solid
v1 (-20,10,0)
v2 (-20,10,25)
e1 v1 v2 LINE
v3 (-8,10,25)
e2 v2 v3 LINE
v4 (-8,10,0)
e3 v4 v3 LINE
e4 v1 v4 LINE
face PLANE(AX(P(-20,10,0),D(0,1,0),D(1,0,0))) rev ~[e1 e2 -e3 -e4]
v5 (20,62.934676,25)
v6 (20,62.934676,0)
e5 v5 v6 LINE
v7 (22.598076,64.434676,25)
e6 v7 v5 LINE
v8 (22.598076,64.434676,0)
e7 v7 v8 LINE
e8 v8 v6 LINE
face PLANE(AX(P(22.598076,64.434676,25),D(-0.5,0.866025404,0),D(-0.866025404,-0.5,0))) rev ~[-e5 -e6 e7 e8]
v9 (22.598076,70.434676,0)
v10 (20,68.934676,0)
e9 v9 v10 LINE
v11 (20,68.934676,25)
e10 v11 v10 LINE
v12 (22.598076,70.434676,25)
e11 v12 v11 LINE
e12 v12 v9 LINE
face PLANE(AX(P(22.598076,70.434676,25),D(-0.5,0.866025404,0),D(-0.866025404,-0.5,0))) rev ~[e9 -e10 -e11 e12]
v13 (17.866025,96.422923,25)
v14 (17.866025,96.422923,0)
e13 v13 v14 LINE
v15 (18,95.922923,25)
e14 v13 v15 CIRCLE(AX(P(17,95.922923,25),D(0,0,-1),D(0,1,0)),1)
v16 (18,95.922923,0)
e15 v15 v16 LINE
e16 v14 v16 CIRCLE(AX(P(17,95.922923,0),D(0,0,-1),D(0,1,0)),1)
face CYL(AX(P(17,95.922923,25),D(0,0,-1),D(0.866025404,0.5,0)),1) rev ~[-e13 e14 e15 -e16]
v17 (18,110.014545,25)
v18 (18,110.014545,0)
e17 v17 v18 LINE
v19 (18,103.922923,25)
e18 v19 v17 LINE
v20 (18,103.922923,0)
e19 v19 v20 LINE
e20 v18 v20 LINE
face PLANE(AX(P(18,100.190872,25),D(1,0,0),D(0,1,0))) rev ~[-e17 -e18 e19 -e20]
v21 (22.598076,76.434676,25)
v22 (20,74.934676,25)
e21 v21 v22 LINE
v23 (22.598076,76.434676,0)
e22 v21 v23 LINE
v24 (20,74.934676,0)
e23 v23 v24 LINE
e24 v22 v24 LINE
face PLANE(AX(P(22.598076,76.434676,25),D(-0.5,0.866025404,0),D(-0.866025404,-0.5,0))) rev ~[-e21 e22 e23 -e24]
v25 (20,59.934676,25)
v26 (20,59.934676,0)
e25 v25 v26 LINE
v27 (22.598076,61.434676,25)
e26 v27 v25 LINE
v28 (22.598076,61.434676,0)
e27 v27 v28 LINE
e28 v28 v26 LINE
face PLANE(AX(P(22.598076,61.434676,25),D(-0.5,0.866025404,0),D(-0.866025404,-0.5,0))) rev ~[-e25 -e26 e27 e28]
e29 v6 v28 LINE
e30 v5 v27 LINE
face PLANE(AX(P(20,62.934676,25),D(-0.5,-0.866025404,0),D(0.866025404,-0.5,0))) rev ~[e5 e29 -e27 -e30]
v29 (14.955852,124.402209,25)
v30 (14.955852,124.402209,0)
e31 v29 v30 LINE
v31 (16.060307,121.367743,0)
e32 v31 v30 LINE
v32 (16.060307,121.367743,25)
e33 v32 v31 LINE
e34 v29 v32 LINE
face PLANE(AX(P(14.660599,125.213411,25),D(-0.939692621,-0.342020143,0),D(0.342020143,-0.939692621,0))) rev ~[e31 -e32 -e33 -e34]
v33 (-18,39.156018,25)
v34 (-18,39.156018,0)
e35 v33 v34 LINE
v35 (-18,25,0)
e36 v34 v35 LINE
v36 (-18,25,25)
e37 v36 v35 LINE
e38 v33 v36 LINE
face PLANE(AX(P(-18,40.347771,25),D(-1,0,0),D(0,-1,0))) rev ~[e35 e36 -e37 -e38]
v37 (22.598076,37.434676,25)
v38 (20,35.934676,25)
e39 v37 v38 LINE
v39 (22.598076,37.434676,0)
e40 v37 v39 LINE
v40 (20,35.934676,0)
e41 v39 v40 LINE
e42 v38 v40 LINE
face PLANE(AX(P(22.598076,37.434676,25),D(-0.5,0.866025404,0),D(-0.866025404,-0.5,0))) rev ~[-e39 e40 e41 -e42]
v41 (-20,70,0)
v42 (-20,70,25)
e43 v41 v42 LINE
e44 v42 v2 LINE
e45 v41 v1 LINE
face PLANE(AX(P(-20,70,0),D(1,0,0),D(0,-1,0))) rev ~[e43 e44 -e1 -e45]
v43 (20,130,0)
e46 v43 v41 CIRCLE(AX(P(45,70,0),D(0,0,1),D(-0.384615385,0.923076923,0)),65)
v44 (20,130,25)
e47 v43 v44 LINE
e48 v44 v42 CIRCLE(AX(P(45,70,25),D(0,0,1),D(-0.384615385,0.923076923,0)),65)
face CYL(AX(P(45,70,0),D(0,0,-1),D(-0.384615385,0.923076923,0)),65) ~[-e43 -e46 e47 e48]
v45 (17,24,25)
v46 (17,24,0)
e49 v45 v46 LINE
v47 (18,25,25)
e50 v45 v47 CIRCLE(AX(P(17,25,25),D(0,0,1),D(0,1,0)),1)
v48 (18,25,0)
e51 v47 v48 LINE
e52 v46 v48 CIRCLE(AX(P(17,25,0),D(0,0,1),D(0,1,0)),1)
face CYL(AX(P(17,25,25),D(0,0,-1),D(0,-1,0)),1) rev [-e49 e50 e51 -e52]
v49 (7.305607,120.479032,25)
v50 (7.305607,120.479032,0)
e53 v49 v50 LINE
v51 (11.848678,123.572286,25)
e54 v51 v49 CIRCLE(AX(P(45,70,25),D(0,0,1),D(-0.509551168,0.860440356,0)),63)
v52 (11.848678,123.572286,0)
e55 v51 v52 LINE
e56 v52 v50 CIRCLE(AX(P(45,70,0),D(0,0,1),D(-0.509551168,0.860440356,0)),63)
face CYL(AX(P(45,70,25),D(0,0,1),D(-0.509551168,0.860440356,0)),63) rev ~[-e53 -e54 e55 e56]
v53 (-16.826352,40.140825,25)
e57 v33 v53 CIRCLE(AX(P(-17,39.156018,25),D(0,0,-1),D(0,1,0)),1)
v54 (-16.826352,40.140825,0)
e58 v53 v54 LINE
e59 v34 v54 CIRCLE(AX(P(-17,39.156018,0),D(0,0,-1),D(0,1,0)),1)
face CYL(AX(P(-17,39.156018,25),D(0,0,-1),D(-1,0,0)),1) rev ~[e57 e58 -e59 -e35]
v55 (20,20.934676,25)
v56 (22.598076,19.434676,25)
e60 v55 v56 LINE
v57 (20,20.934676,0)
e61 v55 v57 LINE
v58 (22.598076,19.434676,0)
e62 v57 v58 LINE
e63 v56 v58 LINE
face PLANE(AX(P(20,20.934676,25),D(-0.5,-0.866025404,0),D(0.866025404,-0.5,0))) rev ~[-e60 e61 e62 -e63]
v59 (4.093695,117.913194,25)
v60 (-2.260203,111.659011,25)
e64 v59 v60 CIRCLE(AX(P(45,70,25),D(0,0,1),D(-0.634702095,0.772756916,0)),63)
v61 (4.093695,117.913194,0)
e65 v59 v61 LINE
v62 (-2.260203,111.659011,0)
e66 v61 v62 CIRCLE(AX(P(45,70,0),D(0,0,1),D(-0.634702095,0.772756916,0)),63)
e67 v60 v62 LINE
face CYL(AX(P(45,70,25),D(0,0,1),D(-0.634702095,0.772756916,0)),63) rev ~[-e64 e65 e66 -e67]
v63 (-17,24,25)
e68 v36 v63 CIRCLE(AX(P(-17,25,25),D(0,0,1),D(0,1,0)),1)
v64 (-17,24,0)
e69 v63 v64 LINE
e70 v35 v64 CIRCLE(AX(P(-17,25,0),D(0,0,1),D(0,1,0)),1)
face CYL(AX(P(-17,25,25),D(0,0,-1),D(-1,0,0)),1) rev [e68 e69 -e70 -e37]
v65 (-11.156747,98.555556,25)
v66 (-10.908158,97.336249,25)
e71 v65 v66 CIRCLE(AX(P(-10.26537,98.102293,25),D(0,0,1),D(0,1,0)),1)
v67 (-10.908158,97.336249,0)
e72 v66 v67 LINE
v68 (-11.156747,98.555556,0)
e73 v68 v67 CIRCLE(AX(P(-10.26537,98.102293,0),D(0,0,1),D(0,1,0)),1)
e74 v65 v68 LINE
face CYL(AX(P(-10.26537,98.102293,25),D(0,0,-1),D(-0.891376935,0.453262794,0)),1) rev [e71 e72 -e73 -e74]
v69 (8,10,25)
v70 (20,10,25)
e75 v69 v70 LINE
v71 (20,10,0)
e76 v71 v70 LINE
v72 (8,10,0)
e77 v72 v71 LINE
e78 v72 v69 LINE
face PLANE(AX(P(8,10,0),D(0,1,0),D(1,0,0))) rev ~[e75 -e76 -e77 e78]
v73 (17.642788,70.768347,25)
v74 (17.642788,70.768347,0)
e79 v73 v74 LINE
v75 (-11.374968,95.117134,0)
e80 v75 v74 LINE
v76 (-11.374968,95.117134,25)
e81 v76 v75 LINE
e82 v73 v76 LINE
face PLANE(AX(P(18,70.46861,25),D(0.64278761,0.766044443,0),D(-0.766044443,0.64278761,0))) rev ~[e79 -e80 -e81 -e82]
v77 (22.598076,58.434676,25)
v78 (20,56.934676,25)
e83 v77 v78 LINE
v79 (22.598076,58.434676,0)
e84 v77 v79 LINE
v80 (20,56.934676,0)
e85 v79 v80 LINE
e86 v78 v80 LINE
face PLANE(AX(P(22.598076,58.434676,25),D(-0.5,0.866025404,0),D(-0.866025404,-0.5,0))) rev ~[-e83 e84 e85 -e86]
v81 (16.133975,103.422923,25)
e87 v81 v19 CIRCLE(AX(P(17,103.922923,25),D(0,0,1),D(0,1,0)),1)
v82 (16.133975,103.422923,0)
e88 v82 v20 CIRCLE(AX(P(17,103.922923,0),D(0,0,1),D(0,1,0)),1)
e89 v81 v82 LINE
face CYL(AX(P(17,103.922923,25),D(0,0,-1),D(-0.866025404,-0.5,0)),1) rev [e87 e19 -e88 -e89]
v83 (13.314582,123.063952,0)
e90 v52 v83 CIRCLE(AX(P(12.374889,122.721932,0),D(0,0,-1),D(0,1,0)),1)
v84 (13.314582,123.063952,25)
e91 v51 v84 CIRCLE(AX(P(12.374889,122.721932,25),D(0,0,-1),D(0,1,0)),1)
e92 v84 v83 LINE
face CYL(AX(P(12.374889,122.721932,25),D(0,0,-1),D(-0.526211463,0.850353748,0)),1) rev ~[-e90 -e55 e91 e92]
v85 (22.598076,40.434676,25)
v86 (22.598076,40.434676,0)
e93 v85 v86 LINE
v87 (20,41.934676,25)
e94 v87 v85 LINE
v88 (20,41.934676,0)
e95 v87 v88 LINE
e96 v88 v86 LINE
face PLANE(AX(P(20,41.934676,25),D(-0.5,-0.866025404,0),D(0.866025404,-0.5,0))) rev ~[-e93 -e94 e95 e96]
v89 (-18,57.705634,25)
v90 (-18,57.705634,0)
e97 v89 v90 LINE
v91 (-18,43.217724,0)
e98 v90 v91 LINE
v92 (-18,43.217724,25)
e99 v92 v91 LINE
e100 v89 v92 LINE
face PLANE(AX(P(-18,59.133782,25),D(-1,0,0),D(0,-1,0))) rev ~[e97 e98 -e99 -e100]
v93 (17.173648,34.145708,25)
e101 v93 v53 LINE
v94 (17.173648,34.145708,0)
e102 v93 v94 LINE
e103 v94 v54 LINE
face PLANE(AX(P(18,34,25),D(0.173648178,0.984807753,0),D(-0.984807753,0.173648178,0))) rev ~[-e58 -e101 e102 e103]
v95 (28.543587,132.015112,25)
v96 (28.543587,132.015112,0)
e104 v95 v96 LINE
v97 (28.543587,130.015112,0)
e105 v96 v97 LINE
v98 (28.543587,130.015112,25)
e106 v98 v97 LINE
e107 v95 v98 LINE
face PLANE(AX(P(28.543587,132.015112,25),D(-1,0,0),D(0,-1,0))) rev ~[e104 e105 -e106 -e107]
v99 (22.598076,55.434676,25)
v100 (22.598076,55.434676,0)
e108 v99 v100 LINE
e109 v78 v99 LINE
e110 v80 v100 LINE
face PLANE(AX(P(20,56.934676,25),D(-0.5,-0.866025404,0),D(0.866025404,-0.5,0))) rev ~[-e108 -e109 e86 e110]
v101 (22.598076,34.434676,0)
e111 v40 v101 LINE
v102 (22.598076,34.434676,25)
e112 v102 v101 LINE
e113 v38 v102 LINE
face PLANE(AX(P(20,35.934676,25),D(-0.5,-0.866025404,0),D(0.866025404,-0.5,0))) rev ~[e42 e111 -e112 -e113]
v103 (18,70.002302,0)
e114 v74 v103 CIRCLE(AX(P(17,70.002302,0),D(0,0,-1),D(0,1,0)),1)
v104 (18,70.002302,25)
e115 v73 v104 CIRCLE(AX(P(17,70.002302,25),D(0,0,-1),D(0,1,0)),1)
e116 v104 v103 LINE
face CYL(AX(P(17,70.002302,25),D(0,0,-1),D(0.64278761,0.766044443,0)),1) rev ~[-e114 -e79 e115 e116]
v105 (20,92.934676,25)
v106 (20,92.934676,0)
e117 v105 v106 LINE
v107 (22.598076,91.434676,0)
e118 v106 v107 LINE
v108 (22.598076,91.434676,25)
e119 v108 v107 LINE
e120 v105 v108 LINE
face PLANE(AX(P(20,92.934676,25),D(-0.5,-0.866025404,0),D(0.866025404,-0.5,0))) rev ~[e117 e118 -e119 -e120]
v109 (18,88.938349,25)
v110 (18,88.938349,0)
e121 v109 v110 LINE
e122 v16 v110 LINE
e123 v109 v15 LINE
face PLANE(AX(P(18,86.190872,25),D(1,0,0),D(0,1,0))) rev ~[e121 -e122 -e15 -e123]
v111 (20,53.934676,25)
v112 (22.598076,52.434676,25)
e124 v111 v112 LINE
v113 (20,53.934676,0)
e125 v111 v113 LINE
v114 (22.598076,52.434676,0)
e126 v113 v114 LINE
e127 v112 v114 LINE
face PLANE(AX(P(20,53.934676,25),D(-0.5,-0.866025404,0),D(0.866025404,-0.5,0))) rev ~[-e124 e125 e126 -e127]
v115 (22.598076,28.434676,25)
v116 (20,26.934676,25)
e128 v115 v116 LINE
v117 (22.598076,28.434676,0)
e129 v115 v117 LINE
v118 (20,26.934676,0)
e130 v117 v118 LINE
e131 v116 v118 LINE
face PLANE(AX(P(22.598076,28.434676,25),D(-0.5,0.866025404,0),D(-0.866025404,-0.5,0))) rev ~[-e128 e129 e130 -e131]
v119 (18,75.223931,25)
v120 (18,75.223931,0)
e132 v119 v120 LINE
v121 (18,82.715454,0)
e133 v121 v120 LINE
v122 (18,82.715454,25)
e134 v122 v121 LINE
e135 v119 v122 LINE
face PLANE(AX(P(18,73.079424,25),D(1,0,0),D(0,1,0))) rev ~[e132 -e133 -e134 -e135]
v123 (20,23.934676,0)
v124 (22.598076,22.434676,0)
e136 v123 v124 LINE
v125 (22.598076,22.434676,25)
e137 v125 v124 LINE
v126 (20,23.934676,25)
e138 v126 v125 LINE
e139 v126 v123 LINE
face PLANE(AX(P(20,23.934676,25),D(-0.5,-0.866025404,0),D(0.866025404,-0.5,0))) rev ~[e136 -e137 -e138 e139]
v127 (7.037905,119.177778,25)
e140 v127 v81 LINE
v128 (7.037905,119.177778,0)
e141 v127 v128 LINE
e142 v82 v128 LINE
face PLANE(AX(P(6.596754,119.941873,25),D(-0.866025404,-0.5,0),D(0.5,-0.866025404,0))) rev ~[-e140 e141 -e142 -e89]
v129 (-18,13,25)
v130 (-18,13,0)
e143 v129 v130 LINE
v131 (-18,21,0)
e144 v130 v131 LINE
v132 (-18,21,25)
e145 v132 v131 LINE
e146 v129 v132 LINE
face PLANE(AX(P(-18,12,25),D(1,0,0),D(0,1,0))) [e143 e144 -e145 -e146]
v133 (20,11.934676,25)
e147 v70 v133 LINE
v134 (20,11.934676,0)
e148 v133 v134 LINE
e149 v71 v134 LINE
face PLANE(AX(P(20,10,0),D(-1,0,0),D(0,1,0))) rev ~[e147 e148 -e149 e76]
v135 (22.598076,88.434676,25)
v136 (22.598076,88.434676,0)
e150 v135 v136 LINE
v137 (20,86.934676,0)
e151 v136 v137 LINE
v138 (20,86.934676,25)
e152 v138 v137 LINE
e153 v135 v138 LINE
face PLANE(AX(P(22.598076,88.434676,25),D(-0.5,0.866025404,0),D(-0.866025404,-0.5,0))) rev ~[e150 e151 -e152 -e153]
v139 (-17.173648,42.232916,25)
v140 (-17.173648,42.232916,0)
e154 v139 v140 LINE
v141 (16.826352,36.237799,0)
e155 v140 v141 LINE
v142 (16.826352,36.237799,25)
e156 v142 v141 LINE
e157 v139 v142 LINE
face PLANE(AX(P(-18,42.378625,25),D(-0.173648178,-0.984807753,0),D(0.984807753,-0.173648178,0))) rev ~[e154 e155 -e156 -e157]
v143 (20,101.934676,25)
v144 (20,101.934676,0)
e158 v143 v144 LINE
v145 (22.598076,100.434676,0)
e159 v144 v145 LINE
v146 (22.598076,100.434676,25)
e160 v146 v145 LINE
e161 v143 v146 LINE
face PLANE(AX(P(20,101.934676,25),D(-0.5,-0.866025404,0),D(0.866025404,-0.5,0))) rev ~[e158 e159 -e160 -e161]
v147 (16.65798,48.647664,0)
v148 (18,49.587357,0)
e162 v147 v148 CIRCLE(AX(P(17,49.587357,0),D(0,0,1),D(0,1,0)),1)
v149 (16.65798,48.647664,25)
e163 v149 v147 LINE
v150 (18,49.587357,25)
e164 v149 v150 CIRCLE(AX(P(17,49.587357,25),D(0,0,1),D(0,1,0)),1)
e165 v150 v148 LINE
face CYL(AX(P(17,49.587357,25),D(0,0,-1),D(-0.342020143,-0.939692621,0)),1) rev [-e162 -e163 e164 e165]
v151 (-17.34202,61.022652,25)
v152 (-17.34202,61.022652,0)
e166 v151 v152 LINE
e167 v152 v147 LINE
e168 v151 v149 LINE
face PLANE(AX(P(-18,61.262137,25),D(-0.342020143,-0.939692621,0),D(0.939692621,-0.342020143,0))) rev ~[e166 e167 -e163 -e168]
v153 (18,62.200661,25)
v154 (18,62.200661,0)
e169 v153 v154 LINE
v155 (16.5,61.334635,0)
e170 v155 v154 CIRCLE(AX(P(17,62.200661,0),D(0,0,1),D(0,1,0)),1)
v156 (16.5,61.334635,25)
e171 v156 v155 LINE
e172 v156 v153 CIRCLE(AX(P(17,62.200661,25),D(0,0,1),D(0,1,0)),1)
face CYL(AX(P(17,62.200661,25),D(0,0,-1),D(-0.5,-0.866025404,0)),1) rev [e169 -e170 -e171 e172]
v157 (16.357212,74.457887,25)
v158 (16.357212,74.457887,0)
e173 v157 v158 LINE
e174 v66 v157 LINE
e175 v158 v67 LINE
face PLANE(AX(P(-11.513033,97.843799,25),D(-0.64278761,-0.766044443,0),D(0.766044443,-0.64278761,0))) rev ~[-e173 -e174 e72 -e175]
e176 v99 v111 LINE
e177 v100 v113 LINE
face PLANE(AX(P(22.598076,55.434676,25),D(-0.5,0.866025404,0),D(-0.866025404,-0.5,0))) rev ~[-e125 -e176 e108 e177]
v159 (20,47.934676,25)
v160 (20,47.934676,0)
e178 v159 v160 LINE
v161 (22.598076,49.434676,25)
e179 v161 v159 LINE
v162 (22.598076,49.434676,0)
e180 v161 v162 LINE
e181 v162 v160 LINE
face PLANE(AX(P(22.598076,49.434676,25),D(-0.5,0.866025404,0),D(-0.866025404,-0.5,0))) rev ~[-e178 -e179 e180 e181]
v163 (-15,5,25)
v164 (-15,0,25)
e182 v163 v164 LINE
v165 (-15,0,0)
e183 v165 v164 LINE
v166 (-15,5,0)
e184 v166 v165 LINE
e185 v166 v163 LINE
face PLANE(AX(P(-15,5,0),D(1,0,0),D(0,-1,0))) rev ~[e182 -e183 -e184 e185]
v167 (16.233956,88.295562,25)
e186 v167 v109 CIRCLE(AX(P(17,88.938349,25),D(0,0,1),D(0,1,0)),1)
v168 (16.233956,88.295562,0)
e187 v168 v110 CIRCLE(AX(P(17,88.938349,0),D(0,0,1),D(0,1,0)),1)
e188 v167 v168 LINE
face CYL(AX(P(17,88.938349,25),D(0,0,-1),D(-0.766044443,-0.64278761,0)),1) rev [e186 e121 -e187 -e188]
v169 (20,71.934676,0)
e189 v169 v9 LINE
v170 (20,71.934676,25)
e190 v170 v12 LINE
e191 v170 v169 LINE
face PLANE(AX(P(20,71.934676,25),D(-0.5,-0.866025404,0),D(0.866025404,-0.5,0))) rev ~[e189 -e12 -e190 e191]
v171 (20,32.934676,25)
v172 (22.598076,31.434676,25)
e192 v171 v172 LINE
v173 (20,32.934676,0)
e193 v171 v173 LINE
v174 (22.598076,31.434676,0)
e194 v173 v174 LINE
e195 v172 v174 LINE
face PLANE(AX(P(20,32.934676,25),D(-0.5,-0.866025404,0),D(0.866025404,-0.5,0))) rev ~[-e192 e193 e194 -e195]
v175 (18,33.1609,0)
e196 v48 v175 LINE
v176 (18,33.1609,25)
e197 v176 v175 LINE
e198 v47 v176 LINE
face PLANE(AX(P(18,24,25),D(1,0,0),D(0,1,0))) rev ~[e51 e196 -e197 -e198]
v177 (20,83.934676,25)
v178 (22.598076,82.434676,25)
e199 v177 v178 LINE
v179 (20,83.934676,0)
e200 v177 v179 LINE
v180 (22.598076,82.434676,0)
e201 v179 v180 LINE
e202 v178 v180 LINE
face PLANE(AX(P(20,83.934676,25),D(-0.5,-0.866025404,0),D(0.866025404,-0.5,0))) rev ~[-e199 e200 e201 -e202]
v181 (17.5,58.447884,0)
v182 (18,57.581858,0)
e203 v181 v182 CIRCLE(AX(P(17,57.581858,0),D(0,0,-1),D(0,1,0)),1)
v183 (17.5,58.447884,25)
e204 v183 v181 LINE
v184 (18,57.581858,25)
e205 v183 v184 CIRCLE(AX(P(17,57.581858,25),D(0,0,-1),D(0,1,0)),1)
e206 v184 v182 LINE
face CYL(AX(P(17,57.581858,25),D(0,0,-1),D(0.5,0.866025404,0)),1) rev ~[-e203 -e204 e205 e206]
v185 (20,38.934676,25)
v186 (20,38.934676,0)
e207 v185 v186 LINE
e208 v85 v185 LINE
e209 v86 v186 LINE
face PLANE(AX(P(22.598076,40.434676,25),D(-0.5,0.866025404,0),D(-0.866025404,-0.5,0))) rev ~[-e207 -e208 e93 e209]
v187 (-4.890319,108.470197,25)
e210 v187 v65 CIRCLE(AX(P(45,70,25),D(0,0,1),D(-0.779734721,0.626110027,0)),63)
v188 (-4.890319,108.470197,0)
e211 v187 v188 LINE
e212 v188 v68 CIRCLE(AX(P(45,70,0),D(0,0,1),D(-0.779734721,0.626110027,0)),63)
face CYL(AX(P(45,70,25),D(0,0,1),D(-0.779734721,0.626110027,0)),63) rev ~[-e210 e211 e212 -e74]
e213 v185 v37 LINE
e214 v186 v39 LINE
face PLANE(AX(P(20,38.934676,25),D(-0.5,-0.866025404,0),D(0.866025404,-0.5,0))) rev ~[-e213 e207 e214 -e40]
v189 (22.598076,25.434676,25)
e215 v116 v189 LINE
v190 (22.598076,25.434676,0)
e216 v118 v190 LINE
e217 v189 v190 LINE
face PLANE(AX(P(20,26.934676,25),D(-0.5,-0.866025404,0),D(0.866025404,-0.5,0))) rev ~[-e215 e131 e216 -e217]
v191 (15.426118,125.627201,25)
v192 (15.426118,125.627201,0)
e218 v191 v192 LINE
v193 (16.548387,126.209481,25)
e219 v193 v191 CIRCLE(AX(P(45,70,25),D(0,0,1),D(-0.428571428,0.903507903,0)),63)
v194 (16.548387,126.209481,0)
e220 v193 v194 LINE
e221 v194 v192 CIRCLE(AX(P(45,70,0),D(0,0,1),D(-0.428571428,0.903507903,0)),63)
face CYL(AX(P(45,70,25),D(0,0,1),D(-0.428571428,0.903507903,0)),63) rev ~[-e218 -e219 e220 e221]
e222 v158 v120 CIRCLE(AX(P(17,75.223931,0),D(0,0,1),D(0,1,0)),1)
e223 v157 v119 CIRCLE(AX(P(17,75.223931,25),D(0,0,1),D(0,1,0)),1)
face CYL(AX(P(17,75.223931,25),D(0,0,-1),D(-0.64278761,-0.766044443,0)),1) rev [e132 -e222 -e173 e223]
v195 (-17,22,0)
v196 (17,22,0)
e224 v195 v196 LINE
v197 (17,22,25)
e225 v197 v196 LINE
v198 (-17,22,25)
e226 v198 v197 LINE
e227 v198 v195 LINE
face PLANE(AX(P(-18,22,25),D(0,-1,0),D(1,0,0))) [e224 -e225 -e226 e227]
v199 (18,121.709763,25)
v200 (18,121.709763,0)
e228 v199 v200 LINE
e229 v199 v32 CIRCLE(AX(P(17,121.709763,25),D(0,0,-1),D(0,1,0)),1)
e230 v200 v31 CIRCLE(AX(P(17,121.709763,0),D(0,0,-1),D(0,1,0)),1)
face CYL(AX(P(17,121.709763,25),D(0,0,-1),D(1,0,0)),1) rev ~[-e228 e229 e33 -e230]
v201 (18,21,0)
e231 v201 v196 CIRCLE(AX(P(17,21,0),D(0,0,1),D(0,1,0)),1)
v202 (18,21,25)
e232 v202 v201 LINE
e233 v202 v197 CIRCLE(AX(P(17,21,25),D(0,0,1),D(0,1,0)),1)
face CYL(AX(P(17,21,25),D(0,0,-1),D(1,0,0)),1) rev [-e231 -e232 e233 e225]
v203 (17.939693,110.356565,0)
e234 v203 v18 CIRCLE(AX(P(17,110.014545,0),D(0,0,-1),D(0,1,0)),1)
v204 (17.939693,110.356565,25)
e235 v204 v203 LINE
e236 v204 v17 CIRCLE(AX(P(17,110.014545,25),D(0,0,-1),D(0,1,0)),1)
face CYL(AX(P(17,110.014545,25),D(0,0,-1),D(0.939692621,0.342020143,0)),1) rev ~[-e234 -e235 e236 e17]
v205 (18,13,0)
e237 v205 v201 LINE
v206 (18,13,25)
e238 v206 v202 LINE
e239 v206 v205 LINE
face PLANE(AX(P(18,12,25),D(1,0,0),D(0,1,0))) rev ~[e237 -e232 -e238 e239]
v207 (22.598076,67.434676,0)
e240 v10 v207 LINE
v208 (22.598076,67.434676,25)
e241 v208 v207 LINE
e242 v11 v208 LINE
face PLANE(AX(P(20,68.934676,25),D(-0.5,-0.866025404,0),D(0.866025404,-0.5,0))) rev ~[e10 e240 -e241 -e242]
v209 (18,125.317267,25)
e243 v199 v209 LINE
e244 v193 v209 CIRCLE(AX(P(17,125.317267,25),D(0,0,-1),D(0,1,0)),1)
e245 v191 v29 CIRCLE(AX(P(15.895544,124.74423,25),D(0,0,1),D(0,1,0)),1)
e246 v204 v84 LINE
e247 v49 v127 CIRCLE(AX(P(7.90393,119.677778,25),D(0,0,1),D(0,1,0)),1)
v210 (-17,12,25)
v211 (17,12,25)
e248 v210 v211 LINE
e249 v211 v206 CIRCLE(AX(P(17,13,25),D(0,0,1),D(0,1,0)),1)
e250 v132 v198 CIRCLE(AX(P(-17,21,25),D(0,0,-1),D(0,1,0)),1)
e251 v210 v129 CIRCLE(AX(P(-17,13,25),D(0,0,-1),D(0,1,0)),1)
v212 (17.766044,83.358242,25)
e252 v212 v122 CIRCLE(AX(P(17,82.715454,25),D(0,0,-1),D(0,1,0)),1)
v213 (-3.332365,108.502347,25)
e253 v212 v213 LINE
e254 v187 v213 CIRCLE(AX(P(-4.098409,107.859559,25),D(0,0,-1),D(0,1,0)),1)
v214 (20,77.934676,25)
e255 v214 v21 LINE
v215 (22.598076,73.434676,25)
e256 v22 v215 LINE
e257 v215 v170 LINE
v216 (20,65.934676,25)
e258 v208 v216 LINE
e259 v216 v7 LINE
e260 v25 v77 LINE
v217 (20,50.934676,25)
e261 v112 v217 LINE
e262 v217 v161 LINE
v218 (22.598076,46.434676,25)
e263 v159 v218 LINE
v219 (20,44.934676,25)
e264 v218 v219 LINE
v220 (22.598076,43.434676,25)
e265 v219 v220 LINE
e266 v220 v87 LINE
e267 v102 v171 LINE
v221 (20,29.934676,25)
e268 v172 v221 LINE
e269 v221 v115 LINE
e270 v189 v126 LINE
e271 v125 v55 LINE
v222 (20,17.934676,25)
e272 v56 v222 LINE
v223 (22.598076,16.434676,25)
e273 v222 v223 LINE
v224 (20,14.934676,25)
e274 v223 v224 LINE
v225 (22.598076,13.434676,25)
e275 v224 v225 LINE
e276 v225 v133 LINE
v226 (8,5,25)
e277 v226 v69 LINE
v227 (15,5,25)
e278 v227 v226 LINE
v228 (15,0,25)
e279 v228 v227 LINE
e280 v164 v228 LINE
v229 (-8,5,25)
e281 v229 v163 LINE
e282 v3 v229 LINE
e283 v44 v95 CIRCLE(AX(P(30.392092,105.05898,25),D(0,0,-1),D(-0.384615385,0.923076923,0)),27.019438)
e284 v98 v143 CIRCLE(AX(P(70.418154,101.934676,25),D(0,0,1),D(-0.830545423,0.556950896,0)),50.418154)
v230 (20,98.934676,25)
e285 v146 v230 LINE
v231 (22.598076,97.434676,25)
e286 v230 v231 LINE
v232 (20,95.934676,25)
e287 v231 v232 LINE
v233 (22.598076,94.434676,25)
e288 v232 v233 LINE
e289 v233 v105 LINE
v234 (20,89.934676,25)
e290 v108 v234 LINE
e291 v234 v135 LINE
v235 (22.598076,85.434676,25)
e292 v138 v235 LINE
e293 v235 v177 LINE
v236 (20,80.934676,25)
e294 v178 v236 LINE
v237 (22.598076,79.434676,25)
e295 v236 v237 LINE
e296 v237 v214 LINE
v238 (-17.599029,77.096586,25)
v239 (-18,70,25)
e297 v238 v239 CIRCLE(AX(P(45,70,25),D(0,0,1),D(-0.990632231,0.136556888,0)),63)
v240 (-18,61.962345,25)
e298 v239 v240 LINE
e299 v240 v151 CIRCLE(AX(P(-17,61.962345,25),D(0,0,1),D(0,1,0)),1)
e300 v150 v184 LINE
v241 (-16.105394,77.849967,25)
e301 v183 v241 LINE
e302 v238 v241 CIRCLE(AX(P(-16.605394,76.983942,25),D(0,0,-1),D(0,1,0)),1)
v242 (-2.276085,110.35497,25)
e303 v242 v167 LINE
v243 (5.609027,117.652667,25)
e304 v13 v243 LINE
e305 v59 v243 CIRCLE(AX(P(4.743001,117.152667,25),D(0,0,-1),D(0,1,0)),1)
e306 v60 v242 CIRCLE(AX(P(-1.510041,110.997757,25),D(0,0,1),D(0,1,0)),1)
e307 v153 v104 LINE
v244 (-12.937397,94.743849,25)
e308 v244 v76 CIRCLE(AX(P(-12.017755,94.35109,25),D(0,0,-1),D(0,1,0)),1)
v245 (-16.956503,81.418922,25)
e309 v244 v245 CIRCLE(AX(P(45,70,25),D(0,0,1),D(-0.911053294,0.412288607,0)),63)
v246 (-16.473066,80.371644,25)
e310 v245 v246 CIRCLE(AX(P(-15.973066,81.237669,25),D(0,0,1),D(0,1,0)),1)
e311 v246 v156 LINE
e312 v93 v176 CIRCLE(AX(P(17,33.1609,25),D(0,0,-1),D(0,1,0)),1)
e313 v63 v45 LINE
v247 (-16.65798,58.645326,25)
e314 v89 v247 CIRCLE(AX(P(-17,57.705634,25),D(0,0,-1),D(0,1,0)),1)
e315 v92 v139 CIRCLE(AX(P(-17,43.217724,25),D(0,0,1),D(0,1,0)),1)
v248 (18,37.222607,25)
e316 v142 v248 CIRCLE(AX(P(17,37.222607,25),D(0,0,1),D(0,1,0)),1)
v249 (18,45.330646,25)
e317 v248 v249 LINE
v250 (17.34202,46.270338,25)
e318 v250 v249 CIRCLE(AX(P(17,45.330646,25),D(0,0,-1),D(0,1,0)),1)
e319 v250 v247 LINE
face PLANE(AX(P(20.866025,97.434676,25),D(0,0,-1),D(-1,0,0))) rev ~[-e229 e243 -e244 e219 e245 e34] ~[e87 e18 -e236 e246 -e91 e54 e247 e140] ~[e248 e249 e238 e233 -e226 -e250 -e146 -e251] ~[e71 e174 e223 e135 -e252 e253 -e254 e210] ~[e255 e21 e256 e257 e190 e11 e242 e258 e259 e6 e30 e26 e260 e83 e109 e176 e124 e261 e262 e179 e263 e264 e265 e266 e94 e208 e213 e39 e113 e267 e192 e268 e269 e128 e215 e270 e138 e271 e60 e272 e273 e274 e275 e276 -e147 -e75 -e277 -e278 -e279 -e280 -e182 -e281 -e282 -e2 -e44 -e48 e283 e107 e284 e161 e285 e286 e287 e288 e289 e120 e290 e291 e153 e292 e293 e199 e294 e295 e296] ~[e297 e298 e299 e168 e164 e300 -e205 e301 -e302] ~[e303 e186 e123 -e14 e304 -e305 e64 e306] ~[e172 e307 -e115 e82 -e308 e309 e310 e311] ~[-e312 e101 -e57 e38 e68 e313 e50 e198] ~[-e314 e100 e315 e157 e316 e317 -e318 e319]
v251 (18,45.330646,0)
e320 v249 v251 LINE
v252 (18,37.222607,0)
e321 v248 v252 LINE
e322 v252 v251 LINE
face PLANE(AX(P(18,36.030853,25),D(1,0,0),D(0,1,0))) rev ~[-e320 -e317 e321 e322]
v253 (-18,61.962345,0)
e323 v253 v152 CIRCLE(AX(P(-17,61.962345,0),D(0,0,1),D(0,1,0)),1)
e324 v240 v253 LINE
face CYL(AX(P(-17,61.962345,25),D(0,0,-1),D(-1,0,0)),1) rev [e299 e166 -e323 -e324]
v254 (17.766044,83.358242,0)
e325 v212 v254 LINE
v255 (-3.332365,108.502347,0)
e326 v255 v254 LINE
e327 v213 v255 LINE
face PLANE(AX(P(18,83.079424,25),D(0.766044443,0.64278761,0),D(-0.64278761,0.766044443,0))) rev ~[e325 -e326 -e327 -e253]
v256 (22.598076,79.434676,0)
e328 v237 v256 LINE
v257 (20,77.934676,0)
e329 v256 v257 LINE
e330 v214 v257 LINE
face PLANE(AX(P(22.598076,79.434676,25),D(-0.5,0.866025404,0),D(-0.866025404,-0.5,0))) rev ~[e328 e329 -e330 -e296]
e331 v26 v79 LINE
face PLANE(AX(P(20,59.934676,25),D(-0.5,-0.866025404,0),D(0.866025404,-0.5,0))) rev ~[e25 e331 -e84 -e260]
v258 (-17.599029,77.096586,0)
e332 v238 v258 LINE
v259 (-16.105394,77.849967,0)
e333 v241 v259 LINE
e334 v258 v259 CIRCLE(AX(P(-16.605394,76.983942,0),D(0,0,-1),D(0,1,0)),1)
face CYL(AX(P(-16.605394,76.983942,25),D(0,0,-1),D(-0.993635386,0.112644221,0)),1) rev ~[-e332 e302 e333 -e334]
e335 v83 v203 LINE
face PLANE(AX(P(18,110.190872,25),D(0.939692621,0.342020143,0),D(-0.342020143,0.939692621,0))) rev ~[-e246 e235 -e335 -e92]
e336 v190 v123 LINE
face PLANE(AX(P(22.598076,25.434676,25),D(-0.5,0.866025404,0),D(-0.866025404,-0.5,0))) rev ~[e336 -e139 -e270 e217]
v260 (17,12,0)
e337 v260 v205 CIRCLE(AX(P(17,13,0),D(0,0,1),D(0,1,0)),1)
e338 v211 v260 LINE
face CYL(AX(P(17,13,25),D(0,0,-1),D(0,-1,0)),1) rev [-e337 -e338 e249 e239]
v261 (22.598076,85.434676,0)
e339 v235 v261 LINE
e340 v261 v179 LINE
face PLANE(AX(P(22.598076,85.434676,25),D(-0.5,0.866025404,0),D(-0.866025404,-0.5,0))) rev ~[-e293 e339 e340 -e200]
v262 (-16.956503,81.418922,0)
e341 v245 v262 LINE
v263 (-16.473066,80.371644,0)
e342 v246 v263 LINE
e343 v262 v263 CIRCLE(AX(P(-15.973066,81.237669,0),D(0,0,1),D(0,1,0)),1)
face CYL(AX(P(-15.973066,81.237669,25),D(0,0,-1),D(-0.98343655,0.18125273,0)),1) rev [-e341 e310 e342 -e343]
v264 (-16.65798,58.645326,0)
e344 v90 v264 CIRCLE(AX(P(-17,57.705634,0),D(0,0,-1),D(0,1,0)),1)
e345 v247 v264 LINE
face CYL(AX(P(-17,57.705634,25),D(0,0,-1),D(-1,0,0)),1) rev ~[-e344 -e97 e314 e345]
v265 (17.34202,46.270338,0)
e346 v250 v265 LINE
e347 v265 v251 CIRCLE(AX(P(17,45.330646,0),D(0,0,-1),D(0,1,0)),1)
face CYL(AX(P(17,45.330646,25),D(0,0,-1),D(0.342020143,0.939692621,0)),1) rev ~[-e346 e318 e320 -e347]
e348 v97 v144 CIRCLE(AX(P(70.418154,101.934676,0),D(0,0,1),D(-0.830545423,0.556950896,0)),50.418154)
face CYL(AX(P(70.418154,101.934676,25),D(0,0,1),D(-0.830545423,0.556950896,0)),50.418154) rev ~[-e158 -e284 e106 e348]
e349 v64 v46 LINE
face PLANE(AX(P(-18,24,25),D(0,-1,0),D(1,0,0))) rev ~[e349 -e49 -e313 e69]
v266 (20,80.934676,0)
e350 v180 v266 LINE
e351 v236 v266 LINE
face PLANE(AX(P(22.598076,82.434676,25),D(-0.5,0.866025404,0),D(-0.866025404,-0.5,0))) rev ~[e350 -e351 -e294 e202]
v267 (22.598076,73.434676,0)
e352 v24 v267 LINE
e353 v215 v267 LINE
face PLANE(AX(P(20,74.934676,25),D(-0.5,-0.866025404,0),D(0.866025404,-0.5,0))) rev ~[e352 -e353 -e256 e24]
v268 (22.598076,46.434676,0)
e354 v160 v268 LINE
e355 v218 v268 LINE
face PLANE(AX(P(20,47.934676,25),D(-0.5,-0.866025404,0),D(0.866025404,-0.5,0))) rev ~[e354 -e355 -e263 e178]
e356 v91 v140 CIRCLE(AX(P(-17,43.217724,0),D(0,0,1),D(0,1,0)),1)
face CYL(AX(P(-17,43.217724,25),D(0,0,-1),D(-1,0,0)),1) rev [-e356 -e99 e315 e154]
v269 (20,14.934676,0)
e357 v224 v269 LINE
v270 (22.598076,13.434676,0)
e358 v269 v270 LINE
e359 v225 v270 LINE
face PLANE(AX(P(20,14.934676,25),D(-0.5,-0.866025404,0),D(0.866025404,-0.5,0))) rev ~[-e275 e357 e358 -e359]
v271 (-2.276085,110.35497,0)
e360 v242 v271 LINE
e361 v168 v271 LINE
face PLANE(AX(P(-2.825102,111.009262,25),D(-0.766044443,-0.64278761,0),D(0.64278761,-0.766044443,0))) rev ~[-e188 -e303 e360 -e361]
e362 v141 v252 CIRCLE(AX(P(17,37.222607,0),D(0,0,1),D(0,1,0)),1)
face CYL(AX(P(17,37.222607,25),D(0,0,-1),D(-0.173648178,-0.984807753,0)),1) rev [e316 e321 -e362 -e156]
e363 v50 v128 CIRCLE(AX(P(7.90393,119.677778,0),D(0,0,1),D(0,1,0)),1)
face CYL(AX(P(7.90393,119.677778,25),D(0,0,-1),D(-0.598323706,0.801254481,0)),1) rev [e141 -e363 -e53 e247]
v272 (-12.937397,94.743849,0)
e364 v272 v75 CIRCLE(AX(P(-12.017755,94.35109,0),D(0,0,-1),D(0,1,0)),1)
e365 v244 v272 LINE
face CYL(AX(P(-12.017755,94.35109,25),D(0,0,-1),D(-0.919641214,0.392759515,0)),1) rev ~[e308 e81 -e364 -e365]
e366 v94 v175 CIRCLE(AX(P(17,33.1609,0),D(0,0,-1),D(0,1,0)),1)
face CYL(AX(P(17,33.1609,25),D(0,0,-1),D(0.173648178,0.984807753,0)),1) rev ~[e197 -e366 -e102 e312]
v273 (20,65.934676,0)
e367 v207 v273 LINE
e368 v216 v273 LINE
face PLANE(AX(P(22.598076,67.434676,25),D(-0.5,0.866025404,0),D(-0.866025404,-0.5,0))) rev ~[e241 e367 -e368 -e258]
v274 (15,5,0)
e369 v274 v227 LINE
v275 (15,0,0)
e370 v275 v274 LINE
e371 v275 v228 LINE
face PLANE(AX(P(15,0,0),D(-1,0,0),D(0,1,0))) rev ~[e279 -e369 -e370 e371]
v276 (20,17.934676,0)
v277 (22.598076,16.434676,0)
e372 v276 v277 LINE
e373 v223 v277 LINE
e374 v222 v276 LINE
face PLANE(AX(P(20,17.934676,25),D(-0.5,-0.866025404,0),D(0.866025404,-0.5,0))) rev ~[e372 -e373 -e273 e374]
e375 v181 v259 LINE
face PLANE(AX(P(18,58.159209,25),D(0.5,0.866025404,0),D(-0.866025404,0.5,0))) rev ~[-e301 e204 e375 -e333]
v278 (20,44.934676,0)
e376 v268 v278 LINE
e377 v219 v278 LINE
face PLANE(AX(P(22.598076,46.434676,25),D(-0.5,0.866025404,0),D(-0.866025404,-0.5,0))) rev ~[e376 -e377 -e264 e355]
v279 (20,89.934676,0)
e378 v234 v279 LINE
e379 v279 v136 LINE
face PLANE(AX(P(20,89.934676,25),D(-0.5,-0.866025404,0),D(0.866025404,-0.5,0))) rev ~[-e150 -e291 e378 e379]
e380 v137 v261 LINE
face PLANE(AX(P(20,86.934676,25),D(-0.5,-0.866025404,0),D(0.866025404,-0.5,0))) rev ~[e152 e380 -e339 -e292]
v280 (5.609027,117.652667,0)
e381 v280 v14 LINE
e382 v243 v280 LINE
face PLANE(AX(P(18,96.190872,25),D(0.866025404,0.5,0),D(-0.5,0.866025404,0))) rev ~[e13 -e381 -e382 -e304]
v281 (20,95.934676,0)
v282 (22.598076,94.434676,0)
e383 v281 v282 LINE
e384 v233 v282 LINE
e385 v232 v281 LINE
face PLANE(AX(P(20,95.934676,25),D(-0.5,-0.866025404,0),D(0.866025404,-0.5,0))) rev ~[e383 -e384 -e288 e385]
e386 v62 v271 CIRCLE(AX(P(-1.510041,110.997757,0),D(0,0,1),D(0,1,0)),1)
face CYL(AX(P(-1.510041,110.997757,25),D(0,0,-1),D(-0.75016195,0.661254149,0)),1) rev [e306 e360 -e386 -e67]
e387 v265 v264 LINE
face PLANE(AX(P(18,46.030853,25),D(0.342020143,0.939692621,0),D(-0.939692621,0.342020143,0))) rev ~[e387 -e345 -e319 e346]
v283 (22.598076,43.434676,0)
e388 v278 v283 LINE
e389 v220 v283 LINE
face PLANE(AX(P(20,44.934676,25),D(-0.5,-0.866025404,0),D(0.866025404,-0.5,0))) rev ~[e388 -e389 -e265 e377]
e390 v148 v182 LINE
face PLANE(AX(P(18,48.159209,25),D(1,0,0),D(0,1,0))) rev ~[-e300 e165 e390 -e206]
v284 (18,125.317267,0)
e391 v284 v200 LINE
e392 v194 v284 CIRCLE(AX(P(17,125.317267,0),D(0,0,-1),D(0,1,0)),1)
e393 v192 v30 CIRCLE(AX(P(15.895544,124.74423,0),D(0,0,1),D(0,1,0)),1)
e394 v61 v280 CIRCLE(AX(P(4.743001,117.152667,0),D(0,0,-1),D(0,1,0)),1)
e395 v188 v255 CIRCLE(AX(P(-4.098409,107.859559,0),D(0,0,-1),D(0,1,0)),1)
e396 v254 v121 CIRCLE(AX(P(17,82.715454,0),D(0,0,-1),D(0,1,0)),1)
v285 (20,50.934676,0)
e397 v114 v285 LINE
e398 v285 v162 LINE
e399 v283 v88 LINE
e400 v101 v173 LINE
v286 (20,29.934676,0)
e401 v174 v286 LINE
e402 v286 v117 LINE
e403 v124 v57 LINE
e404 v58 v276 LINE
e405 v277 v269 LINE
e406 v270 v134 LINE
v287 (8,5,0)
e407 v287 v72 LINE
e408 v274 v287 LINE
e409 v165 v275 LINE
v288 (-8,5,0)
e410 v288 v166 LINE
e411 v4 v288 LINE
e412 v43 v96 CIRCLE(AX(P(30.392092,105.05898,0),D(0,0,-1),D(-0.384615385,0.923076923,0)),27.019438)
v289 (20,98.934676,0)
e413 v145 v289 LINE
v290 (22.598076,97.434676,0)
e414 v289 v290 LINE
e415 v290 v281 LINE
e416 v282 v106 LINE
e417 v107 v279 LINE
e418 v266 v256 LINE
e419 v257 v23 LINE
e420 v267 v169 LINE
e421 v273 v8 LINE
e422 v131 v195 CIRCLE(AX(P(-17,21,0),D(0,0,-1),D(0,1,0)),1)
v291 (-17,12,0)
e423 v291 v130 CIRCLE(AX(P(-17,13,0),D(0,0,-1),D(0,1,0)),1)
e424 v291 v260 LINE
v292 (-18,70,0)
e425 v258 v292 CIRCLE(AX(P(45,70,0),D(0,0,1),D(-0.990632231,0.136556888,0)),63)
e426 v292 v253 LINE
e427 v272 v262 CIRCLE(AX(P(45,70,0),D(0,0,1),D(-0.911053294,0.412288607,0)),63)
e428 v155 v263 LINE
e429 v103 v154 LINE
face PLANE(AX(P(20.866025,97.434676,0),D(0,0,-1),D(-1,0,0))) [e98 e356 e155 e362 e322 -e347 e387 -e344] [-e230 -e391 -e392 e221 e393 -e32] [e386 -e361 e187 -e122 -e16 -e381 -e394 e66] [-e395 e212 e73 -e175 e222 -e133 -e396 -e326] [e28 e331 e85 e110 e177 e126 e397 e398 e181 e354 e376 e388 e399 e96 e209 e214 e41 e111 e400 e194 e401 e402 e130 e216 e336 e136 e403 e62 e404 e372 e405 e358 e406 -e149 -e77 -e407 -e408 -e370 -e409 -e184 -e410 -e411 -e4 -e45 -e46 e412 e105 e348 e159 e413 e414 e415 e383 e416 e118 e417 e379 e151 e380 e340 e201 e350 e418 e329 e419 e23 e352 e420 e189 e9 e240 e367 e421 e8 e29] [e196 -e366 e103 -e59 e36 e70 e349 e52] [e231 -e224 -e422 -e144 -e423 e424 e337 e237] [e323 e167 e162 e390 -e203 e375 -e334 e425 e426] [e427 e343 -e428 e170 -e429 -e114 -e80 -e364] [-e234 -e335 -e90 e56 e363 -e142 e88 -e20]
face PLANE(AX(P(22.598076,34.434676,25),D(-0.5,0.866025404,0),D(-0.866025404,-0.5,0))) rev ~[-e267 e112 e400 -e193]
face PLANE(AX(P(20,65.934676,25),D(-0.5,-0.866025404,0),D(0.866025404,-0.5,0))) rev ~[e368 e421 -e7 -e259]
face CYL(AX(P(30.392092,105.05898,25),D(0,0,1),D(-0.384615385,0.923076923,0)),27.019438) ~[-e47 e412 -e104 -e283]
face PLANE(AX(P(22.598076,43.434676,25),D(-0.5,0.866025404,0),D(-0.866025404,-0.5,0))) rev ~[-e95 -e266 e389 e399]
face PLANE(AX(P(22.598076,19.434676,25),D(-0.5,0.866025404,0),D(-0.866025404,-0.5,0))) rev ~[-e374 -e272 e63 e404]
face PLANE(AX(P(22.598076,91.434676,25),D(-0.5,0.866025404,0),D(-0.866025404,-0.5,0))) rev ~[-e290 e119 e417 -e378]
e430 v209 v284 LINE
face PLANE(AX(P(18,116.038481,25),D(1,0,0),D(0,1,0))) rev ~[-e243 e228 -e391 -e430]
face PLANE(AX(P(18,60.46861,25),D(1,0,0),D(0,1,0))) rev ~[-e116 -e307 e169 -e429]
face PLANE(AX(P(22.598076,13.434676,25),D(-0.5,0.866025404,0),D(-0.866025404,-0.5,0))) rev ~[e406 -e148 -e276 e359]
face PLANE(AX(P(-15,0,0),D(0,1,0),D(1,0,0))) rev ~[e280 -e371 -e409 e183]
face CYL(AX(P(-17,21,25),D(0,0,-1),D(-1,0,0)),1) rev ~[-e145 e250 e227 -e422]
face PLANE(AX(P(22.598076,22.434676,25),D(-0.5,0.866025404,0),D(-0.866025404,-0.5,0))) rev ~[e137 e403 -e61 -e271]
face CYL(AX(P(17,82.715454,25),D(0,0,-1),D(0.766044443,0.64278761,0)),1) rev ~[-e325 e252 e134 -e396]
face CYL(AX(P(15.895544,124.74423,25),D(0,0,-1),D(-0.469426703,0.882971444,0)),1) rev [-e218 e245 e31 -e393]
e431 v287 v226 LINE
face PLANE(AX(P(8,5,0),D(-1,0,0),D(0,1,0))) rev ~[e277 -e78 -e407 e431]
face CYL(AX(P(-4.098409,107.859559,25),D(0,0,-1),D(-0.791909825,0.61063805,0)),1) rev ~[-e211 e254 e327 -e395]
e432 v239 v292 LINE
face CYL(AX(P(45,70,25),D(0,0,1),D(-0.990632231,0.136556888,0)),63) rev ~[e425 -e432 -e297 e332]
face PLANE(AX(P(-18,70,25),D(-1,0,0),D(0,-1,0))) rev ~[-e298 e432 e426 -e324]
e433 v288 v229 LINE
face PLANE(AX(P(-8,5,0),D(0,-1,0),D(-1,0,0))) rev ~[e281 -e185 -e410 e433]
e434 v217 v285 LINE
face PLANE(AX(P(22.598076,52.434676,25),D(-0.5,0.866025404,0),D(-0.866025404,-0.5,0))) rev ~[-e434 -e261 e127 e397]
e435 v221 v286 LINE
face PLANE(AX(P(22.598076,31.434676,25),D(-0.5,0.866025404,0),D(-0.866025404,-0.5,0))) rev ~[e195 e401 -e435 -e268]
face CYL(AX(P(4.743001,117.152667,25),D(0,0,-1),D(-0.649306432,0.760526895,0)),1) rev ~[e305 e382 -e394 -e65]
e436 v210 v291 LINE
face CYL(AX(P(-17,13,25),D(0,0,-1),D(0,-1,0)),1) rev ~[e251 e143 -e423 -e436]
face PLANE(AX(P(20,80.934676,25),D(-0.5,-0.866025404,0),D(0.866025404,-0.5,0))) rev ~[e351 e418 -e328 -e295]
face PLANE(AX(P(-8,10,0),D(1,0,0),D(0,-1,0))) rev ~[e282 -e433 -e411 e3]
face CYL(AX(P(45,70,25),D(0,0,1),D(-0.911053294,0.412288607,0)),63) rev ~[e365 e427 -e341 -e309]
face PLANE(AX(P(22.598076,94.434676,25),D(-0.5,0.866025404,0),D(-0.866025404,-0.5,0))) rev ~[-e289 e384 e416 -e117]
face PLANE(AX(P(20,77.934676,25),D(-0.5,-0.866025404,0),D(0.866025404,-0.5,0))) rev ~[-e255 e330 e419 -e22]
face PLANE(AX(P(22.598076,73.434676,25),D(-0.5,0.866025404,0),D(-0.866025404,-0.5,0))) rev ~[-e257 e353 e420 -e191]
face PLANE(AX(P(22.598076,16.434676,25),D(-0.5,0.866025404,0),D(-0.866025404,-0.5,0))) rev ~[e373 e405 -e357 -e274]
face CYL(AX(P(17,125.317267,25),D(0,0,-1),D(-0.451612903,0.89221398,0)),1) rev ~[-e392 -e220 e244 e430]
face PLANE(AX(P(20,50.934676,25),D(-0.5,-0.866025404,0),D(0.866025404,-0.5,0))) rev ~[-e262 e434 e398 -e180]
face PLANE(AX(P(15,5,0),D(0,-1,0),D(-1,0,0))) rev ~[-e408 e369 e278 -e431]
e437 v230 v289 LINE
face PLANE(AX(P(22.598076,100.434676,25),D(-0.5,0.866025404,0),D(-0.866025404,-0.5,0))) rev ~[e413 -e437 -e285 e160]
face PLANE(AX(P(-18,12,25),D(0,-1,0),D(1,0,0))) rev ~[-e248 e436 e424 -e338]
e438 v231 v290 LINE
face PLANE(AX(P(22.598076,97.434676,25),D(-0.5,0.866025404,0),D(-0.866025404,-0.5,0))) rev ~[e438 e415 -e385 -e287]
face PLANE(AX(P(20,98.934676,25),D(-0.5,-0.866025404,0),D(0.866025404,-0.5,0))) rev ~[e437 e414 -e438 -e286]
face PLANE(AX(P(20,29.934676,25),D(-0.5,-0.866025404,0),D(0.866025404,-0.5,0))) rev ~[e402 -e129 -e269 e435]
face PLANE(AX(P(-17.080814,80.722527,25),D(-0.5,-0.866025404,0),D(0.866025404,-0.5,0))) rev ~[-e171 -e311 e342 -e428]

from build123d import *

# Parameters (mm, degrees)
BOSS_EXTRUDE1_DEPTH = 25
SKETCH3_W           = 36
SKETCH3_H           = 10
CUT_EXTRUDE1_DEPTH  = 134.88427839
CUT_EXTRUDE2_DEPTH  = 134.88427839
CUT_EXTRUDE3_DEPTH  = 134.88427839
CUT_EXTRUDE4_DEPTH  = 134.88427839
BOSS_EXTRUDE2_DEPTH = 25
BOSS_EXTRUDE3_DEPTH = 25
LPATTERN1_COUNT     = 30
LPATTERN1_PITCH     = 3
CUT_EXTRUDE5_DEPTH  = 138.359842306
CUT_EXTRUDE6_DEPTH  = 138.359842306
CUT_EXTRUDE7_DEPTH  = 138.359842306
CUT_EXTRUDE8_DEPTH  = 138.359842306
CUT_EXTRUDE9_DEPTH  = 138.359842306
FILLET1_R           = 1


with BuildPart() as part:
    # Sketch2 → Boss-Extrude1 (new body)
    with BuildSketch(Plane.XY):
        with BuildLine():
            Line((-15, 0), (15, 0))
            Line((15, 0), (15, 5))
            Line((15, 5), (8, 5))
            Line((8, 5), (8, 10))
            Line((8, 10), (20, 10))
            Line((20, 10), (20, 130))
            ThreePointArc((20, 130), (-9.083269132, 106.055512755), (-20, 70))
            Line((-20, 70), (-20, 10))
            Line((-20, 10), (-8, 10))
            Line((-8, 10), (-8, 5))
            Line((-8, 5), (-15, 5))
            Line((-15, 5), (-15, 0))
        make_face()
    extrude(amount=BOSS_EXTRUDE1_DEPTH)

    # Sketch3 → Cut-Extrude1 (cut, through all)
    with BuildSketch(Plane.XY.offset(25)):
        with Locations((0, 17)):
            Rectangle(SKETCH3_W, SKETCH3_H)
    extrude(amount=-CUT_EXTRUDE1_DEPTH, mode=Mode.SUBTRACT)

    # Sketch4 → Cut-Extrude2 (cut, through all)
    with BuildSketch(Plane.XY.offset(25)):
        Polygon((-18, 24), (18, 24), (18, 34), (-18, 40.347771306), align=None)
    extrude(amount=-CUT_EXTRUDE2_DEPTH, mode=Mode.SUBTRACT)

    # Sketch5 → Cut-Extrude3 (cut, through all)
    with BuildSketch(Plane.XY.offset(25)):
        Polygon((-18, 42.378624529), (18, 36.030853224), (18, 46.030853224), (-18, 59.133781657), align=None)
    extrude(amount=-CUT_EXTRUDE3_DEPTH, mode=Mode.SUBTRACT)

    # Sketch6 → Cut-Extrude4 (cut, through all)
    with BuildSketch(Plane.XY.offset(25)):
        with BuildLine():
            Line((-18, 61.262137202), (18, 48.159208769))
            Line((18, 48.159208769), (18, 58.159208769))
            Line((18, 58.159208769), (-17.409830527, 78.603083956))
            ThreePointArc((-17.409830527, 78.603083956), (-17.852284458, 74.311651469), (-18, 70))
            Line((-18, 70), (-18, 61.262137202))
        make_face()
    extrude(amount=-CUT_EXTRUDE4_DEPTH, mode=Mode.SUBTRACT)

    # Sketch13 → Boss-Extrude2 (add)
    with BuildSketch(Plane.XY.offset(25)):
        with BuildLine():
            Line((28.543587015, 132.015112463), (28.543587015, 130.015112463))
            ThreePointArc((28.543587015, 130.015112463), (22.183163486, 116.610368534), (20, 101.934676234))
            Line((20, 101.934676234), (20, 130))
            ThreePointArc((20, 130), (24.189413282, 131.356828362), (28.543587015, 132.015112463))
        make_face()
    extrude(amount=-BOSS_EXTRUDE2_DEPTH)

    # Sketch15 → Boss-Extrude3 (add)
    with BuildSketch(Plane.XY.offset(25)):
        Polygon((20, 101.934676234), (22.598076211, 100.434676234), (20, 98.934676234), align=None)
    boss_extrude3 = extrude(amount=-BOSS_EXTRUDE3_DEPTH)

    # LPattern1: Boss-Extrude3 ×30
    with Locations(*[(0, -i * LPATTERN1_PITCH, 0) for i in range(1, LPATTERN1_COUNT)]):
        add(boss_extrude3)

    # Sketch17 → Cut-Extrude5 (cut, through all)
    with BuildSketch(Plane.XY.offset(25)):
        with BuildLine():
            Line((-17.080813578, 80.722527008), (18, 60.468609845))
            Line((18, 60.468609845), (18, 70.468609845))
            Line((18, 70.468609845), (-12.396357526, 95.974182235))
            ThreePointArc((-12.396357526, 95.974182235), (-15.223349712, 88.497247077), (-17.080813578, 80.722527008))
        make_face()
    extrude(amount=-CUT_EXTRUDE5_DEPTH, mode=Mode.SUBTRACT)

    # Sketch18 → Cut-Extrude6 (cut, through all)
    with BuildSketch(Plane.XY.offset(25)):
        with BuildLine():
            Line((-11.513032555, 97.843799156), (18, 73.079424424))
            Line((18, 73.079424424), (18, 83.079424424))
            Line((18, 83.079424424), (-4.123287406, 109.44493167))
            ThreePointArc((-4.123287406, 109.44493167), (-8.135718614, 103.846645438), (-11.513032555, 97.843799156))
        make_face()
    extrude(amount=-CUT_EXTRUDE6_DEPTH, mode=Mode.SUBTRACT)

    # Sketch19 → Cut-Extrude7 (cut, through all)
    with BuildSketch(Plane.XY.offset(25)):
        with BuildLine():
            Line((-2.825102167, 111.009262402), (18, 86.190872078))
            Line((18, 86.190872078), (18, 96.190872078))
            Line((18, 96.190872078), (5.013768012, 118.68368568))
            ThreePointArc((5.013768012, 118.68368568), (0.926972027, 115.017421131), (-2.825102167, 111.009262402))
        make_face()
    extrude(amount=-CUT_EXTRUDE7_DEPTH, mode=Mode.SUBTRACT)

    # Sketch21 → Cut-Extrude8 (cut, through all)
    with BuildSketch(Plane.XY.offset(25)):
        with BuildLine():
            Line((6.596754137, 119.941873284), (18, 100.190872078))
            Line((18, 100.190872078), (18, 110.190872078))
            Line((18, 110.190872078), (12.898276405, 124.207742456))
            ThreePointArc((12.898276405, 124.207742456), (9.683048128, 122.170038436), (6.596754137, 119.941873284))
        make_face()
    extrude(amount=-CUT_EXTRUDE8_DEPTH, mode=Mode.SUBTRACT)

    # Sketch22 → Cut-Extrude9 (cut, through all)
    with BuildSketch(Plane.XY.offset(25)):
        with BuildLine():
            Line((14.660598632, 125.213410732), (18, 116.038480878))
            Line((18, 116.038480878), (18, 126.920997883))
            ThreePointArc((18, 126.920997883), (16.317589, 126.092060929), (14.660598632, 125.213410732))
        make_face()
    extrude(amount=-CUT_EXTRUDE9_DEPTH, mode=Mode.SUBTRACT)

    # Fillet1
    fillet1_edges = [part.edges().sort_by_distance(p)[0] for p in [
        (18, 70.468609845, 12.5),
        (18, 60.468609845, 12.5),
        (-17.080813578, 80.722527008, 12.5),
        (-12.396357526, 95.974182235, 12.5),
        (-11.513032555, 97.843799156, 12.5),
        (-4.123287406, 109.44493167, 12.5),
        (18, 83.079424424, 12.5),
        (18, 73.079424424, 12.5),
        (18, 96.190872078, 12.5),
        (18, 86.190872078, 12.5),
        (-2.825102167, 111.009262402, 12.5),
        (5.013768012, 118.68368568, 12.5),
        (6.596754137, 119.941873284, 12.5),
        (12.898276405, 124.207742456, 12.5),
        (18, 110.190872078, 12.5),
        (18, 100.190872078, 12.5),
        (14.660598632, 125.213410732, 12.5),
        (18, 126.920997883, 12.5),
        (18, 116.038480878, 12.5),
        (-18, 12, 12.5),
        (-18, 22, 12.5),
        (18, 22, 12.5),
        (18, 12, 12.5),
        (-18, 24, 12.5),
        (-18, 40.347771306, 12.5),
        (18, 34, 12.5),
        (18, 24, 12.5),
        (-18, 42.378624529, 12.5),
        (-18, 59.133781657, 12.5),
        (18, 46.030853224, 12.5),
        (18, 36.030853224, 12.5),
        (-18, 61.262137202, 12.5),
        (-17.409830527, 78.603083956, 12.5),
        (18, 58.159208769, 12.5),
        (18, 48.159208769, 12.5),
    ]]
    fillet(fillet1_edges, radius=FILLET1_R)


solid = part.part
